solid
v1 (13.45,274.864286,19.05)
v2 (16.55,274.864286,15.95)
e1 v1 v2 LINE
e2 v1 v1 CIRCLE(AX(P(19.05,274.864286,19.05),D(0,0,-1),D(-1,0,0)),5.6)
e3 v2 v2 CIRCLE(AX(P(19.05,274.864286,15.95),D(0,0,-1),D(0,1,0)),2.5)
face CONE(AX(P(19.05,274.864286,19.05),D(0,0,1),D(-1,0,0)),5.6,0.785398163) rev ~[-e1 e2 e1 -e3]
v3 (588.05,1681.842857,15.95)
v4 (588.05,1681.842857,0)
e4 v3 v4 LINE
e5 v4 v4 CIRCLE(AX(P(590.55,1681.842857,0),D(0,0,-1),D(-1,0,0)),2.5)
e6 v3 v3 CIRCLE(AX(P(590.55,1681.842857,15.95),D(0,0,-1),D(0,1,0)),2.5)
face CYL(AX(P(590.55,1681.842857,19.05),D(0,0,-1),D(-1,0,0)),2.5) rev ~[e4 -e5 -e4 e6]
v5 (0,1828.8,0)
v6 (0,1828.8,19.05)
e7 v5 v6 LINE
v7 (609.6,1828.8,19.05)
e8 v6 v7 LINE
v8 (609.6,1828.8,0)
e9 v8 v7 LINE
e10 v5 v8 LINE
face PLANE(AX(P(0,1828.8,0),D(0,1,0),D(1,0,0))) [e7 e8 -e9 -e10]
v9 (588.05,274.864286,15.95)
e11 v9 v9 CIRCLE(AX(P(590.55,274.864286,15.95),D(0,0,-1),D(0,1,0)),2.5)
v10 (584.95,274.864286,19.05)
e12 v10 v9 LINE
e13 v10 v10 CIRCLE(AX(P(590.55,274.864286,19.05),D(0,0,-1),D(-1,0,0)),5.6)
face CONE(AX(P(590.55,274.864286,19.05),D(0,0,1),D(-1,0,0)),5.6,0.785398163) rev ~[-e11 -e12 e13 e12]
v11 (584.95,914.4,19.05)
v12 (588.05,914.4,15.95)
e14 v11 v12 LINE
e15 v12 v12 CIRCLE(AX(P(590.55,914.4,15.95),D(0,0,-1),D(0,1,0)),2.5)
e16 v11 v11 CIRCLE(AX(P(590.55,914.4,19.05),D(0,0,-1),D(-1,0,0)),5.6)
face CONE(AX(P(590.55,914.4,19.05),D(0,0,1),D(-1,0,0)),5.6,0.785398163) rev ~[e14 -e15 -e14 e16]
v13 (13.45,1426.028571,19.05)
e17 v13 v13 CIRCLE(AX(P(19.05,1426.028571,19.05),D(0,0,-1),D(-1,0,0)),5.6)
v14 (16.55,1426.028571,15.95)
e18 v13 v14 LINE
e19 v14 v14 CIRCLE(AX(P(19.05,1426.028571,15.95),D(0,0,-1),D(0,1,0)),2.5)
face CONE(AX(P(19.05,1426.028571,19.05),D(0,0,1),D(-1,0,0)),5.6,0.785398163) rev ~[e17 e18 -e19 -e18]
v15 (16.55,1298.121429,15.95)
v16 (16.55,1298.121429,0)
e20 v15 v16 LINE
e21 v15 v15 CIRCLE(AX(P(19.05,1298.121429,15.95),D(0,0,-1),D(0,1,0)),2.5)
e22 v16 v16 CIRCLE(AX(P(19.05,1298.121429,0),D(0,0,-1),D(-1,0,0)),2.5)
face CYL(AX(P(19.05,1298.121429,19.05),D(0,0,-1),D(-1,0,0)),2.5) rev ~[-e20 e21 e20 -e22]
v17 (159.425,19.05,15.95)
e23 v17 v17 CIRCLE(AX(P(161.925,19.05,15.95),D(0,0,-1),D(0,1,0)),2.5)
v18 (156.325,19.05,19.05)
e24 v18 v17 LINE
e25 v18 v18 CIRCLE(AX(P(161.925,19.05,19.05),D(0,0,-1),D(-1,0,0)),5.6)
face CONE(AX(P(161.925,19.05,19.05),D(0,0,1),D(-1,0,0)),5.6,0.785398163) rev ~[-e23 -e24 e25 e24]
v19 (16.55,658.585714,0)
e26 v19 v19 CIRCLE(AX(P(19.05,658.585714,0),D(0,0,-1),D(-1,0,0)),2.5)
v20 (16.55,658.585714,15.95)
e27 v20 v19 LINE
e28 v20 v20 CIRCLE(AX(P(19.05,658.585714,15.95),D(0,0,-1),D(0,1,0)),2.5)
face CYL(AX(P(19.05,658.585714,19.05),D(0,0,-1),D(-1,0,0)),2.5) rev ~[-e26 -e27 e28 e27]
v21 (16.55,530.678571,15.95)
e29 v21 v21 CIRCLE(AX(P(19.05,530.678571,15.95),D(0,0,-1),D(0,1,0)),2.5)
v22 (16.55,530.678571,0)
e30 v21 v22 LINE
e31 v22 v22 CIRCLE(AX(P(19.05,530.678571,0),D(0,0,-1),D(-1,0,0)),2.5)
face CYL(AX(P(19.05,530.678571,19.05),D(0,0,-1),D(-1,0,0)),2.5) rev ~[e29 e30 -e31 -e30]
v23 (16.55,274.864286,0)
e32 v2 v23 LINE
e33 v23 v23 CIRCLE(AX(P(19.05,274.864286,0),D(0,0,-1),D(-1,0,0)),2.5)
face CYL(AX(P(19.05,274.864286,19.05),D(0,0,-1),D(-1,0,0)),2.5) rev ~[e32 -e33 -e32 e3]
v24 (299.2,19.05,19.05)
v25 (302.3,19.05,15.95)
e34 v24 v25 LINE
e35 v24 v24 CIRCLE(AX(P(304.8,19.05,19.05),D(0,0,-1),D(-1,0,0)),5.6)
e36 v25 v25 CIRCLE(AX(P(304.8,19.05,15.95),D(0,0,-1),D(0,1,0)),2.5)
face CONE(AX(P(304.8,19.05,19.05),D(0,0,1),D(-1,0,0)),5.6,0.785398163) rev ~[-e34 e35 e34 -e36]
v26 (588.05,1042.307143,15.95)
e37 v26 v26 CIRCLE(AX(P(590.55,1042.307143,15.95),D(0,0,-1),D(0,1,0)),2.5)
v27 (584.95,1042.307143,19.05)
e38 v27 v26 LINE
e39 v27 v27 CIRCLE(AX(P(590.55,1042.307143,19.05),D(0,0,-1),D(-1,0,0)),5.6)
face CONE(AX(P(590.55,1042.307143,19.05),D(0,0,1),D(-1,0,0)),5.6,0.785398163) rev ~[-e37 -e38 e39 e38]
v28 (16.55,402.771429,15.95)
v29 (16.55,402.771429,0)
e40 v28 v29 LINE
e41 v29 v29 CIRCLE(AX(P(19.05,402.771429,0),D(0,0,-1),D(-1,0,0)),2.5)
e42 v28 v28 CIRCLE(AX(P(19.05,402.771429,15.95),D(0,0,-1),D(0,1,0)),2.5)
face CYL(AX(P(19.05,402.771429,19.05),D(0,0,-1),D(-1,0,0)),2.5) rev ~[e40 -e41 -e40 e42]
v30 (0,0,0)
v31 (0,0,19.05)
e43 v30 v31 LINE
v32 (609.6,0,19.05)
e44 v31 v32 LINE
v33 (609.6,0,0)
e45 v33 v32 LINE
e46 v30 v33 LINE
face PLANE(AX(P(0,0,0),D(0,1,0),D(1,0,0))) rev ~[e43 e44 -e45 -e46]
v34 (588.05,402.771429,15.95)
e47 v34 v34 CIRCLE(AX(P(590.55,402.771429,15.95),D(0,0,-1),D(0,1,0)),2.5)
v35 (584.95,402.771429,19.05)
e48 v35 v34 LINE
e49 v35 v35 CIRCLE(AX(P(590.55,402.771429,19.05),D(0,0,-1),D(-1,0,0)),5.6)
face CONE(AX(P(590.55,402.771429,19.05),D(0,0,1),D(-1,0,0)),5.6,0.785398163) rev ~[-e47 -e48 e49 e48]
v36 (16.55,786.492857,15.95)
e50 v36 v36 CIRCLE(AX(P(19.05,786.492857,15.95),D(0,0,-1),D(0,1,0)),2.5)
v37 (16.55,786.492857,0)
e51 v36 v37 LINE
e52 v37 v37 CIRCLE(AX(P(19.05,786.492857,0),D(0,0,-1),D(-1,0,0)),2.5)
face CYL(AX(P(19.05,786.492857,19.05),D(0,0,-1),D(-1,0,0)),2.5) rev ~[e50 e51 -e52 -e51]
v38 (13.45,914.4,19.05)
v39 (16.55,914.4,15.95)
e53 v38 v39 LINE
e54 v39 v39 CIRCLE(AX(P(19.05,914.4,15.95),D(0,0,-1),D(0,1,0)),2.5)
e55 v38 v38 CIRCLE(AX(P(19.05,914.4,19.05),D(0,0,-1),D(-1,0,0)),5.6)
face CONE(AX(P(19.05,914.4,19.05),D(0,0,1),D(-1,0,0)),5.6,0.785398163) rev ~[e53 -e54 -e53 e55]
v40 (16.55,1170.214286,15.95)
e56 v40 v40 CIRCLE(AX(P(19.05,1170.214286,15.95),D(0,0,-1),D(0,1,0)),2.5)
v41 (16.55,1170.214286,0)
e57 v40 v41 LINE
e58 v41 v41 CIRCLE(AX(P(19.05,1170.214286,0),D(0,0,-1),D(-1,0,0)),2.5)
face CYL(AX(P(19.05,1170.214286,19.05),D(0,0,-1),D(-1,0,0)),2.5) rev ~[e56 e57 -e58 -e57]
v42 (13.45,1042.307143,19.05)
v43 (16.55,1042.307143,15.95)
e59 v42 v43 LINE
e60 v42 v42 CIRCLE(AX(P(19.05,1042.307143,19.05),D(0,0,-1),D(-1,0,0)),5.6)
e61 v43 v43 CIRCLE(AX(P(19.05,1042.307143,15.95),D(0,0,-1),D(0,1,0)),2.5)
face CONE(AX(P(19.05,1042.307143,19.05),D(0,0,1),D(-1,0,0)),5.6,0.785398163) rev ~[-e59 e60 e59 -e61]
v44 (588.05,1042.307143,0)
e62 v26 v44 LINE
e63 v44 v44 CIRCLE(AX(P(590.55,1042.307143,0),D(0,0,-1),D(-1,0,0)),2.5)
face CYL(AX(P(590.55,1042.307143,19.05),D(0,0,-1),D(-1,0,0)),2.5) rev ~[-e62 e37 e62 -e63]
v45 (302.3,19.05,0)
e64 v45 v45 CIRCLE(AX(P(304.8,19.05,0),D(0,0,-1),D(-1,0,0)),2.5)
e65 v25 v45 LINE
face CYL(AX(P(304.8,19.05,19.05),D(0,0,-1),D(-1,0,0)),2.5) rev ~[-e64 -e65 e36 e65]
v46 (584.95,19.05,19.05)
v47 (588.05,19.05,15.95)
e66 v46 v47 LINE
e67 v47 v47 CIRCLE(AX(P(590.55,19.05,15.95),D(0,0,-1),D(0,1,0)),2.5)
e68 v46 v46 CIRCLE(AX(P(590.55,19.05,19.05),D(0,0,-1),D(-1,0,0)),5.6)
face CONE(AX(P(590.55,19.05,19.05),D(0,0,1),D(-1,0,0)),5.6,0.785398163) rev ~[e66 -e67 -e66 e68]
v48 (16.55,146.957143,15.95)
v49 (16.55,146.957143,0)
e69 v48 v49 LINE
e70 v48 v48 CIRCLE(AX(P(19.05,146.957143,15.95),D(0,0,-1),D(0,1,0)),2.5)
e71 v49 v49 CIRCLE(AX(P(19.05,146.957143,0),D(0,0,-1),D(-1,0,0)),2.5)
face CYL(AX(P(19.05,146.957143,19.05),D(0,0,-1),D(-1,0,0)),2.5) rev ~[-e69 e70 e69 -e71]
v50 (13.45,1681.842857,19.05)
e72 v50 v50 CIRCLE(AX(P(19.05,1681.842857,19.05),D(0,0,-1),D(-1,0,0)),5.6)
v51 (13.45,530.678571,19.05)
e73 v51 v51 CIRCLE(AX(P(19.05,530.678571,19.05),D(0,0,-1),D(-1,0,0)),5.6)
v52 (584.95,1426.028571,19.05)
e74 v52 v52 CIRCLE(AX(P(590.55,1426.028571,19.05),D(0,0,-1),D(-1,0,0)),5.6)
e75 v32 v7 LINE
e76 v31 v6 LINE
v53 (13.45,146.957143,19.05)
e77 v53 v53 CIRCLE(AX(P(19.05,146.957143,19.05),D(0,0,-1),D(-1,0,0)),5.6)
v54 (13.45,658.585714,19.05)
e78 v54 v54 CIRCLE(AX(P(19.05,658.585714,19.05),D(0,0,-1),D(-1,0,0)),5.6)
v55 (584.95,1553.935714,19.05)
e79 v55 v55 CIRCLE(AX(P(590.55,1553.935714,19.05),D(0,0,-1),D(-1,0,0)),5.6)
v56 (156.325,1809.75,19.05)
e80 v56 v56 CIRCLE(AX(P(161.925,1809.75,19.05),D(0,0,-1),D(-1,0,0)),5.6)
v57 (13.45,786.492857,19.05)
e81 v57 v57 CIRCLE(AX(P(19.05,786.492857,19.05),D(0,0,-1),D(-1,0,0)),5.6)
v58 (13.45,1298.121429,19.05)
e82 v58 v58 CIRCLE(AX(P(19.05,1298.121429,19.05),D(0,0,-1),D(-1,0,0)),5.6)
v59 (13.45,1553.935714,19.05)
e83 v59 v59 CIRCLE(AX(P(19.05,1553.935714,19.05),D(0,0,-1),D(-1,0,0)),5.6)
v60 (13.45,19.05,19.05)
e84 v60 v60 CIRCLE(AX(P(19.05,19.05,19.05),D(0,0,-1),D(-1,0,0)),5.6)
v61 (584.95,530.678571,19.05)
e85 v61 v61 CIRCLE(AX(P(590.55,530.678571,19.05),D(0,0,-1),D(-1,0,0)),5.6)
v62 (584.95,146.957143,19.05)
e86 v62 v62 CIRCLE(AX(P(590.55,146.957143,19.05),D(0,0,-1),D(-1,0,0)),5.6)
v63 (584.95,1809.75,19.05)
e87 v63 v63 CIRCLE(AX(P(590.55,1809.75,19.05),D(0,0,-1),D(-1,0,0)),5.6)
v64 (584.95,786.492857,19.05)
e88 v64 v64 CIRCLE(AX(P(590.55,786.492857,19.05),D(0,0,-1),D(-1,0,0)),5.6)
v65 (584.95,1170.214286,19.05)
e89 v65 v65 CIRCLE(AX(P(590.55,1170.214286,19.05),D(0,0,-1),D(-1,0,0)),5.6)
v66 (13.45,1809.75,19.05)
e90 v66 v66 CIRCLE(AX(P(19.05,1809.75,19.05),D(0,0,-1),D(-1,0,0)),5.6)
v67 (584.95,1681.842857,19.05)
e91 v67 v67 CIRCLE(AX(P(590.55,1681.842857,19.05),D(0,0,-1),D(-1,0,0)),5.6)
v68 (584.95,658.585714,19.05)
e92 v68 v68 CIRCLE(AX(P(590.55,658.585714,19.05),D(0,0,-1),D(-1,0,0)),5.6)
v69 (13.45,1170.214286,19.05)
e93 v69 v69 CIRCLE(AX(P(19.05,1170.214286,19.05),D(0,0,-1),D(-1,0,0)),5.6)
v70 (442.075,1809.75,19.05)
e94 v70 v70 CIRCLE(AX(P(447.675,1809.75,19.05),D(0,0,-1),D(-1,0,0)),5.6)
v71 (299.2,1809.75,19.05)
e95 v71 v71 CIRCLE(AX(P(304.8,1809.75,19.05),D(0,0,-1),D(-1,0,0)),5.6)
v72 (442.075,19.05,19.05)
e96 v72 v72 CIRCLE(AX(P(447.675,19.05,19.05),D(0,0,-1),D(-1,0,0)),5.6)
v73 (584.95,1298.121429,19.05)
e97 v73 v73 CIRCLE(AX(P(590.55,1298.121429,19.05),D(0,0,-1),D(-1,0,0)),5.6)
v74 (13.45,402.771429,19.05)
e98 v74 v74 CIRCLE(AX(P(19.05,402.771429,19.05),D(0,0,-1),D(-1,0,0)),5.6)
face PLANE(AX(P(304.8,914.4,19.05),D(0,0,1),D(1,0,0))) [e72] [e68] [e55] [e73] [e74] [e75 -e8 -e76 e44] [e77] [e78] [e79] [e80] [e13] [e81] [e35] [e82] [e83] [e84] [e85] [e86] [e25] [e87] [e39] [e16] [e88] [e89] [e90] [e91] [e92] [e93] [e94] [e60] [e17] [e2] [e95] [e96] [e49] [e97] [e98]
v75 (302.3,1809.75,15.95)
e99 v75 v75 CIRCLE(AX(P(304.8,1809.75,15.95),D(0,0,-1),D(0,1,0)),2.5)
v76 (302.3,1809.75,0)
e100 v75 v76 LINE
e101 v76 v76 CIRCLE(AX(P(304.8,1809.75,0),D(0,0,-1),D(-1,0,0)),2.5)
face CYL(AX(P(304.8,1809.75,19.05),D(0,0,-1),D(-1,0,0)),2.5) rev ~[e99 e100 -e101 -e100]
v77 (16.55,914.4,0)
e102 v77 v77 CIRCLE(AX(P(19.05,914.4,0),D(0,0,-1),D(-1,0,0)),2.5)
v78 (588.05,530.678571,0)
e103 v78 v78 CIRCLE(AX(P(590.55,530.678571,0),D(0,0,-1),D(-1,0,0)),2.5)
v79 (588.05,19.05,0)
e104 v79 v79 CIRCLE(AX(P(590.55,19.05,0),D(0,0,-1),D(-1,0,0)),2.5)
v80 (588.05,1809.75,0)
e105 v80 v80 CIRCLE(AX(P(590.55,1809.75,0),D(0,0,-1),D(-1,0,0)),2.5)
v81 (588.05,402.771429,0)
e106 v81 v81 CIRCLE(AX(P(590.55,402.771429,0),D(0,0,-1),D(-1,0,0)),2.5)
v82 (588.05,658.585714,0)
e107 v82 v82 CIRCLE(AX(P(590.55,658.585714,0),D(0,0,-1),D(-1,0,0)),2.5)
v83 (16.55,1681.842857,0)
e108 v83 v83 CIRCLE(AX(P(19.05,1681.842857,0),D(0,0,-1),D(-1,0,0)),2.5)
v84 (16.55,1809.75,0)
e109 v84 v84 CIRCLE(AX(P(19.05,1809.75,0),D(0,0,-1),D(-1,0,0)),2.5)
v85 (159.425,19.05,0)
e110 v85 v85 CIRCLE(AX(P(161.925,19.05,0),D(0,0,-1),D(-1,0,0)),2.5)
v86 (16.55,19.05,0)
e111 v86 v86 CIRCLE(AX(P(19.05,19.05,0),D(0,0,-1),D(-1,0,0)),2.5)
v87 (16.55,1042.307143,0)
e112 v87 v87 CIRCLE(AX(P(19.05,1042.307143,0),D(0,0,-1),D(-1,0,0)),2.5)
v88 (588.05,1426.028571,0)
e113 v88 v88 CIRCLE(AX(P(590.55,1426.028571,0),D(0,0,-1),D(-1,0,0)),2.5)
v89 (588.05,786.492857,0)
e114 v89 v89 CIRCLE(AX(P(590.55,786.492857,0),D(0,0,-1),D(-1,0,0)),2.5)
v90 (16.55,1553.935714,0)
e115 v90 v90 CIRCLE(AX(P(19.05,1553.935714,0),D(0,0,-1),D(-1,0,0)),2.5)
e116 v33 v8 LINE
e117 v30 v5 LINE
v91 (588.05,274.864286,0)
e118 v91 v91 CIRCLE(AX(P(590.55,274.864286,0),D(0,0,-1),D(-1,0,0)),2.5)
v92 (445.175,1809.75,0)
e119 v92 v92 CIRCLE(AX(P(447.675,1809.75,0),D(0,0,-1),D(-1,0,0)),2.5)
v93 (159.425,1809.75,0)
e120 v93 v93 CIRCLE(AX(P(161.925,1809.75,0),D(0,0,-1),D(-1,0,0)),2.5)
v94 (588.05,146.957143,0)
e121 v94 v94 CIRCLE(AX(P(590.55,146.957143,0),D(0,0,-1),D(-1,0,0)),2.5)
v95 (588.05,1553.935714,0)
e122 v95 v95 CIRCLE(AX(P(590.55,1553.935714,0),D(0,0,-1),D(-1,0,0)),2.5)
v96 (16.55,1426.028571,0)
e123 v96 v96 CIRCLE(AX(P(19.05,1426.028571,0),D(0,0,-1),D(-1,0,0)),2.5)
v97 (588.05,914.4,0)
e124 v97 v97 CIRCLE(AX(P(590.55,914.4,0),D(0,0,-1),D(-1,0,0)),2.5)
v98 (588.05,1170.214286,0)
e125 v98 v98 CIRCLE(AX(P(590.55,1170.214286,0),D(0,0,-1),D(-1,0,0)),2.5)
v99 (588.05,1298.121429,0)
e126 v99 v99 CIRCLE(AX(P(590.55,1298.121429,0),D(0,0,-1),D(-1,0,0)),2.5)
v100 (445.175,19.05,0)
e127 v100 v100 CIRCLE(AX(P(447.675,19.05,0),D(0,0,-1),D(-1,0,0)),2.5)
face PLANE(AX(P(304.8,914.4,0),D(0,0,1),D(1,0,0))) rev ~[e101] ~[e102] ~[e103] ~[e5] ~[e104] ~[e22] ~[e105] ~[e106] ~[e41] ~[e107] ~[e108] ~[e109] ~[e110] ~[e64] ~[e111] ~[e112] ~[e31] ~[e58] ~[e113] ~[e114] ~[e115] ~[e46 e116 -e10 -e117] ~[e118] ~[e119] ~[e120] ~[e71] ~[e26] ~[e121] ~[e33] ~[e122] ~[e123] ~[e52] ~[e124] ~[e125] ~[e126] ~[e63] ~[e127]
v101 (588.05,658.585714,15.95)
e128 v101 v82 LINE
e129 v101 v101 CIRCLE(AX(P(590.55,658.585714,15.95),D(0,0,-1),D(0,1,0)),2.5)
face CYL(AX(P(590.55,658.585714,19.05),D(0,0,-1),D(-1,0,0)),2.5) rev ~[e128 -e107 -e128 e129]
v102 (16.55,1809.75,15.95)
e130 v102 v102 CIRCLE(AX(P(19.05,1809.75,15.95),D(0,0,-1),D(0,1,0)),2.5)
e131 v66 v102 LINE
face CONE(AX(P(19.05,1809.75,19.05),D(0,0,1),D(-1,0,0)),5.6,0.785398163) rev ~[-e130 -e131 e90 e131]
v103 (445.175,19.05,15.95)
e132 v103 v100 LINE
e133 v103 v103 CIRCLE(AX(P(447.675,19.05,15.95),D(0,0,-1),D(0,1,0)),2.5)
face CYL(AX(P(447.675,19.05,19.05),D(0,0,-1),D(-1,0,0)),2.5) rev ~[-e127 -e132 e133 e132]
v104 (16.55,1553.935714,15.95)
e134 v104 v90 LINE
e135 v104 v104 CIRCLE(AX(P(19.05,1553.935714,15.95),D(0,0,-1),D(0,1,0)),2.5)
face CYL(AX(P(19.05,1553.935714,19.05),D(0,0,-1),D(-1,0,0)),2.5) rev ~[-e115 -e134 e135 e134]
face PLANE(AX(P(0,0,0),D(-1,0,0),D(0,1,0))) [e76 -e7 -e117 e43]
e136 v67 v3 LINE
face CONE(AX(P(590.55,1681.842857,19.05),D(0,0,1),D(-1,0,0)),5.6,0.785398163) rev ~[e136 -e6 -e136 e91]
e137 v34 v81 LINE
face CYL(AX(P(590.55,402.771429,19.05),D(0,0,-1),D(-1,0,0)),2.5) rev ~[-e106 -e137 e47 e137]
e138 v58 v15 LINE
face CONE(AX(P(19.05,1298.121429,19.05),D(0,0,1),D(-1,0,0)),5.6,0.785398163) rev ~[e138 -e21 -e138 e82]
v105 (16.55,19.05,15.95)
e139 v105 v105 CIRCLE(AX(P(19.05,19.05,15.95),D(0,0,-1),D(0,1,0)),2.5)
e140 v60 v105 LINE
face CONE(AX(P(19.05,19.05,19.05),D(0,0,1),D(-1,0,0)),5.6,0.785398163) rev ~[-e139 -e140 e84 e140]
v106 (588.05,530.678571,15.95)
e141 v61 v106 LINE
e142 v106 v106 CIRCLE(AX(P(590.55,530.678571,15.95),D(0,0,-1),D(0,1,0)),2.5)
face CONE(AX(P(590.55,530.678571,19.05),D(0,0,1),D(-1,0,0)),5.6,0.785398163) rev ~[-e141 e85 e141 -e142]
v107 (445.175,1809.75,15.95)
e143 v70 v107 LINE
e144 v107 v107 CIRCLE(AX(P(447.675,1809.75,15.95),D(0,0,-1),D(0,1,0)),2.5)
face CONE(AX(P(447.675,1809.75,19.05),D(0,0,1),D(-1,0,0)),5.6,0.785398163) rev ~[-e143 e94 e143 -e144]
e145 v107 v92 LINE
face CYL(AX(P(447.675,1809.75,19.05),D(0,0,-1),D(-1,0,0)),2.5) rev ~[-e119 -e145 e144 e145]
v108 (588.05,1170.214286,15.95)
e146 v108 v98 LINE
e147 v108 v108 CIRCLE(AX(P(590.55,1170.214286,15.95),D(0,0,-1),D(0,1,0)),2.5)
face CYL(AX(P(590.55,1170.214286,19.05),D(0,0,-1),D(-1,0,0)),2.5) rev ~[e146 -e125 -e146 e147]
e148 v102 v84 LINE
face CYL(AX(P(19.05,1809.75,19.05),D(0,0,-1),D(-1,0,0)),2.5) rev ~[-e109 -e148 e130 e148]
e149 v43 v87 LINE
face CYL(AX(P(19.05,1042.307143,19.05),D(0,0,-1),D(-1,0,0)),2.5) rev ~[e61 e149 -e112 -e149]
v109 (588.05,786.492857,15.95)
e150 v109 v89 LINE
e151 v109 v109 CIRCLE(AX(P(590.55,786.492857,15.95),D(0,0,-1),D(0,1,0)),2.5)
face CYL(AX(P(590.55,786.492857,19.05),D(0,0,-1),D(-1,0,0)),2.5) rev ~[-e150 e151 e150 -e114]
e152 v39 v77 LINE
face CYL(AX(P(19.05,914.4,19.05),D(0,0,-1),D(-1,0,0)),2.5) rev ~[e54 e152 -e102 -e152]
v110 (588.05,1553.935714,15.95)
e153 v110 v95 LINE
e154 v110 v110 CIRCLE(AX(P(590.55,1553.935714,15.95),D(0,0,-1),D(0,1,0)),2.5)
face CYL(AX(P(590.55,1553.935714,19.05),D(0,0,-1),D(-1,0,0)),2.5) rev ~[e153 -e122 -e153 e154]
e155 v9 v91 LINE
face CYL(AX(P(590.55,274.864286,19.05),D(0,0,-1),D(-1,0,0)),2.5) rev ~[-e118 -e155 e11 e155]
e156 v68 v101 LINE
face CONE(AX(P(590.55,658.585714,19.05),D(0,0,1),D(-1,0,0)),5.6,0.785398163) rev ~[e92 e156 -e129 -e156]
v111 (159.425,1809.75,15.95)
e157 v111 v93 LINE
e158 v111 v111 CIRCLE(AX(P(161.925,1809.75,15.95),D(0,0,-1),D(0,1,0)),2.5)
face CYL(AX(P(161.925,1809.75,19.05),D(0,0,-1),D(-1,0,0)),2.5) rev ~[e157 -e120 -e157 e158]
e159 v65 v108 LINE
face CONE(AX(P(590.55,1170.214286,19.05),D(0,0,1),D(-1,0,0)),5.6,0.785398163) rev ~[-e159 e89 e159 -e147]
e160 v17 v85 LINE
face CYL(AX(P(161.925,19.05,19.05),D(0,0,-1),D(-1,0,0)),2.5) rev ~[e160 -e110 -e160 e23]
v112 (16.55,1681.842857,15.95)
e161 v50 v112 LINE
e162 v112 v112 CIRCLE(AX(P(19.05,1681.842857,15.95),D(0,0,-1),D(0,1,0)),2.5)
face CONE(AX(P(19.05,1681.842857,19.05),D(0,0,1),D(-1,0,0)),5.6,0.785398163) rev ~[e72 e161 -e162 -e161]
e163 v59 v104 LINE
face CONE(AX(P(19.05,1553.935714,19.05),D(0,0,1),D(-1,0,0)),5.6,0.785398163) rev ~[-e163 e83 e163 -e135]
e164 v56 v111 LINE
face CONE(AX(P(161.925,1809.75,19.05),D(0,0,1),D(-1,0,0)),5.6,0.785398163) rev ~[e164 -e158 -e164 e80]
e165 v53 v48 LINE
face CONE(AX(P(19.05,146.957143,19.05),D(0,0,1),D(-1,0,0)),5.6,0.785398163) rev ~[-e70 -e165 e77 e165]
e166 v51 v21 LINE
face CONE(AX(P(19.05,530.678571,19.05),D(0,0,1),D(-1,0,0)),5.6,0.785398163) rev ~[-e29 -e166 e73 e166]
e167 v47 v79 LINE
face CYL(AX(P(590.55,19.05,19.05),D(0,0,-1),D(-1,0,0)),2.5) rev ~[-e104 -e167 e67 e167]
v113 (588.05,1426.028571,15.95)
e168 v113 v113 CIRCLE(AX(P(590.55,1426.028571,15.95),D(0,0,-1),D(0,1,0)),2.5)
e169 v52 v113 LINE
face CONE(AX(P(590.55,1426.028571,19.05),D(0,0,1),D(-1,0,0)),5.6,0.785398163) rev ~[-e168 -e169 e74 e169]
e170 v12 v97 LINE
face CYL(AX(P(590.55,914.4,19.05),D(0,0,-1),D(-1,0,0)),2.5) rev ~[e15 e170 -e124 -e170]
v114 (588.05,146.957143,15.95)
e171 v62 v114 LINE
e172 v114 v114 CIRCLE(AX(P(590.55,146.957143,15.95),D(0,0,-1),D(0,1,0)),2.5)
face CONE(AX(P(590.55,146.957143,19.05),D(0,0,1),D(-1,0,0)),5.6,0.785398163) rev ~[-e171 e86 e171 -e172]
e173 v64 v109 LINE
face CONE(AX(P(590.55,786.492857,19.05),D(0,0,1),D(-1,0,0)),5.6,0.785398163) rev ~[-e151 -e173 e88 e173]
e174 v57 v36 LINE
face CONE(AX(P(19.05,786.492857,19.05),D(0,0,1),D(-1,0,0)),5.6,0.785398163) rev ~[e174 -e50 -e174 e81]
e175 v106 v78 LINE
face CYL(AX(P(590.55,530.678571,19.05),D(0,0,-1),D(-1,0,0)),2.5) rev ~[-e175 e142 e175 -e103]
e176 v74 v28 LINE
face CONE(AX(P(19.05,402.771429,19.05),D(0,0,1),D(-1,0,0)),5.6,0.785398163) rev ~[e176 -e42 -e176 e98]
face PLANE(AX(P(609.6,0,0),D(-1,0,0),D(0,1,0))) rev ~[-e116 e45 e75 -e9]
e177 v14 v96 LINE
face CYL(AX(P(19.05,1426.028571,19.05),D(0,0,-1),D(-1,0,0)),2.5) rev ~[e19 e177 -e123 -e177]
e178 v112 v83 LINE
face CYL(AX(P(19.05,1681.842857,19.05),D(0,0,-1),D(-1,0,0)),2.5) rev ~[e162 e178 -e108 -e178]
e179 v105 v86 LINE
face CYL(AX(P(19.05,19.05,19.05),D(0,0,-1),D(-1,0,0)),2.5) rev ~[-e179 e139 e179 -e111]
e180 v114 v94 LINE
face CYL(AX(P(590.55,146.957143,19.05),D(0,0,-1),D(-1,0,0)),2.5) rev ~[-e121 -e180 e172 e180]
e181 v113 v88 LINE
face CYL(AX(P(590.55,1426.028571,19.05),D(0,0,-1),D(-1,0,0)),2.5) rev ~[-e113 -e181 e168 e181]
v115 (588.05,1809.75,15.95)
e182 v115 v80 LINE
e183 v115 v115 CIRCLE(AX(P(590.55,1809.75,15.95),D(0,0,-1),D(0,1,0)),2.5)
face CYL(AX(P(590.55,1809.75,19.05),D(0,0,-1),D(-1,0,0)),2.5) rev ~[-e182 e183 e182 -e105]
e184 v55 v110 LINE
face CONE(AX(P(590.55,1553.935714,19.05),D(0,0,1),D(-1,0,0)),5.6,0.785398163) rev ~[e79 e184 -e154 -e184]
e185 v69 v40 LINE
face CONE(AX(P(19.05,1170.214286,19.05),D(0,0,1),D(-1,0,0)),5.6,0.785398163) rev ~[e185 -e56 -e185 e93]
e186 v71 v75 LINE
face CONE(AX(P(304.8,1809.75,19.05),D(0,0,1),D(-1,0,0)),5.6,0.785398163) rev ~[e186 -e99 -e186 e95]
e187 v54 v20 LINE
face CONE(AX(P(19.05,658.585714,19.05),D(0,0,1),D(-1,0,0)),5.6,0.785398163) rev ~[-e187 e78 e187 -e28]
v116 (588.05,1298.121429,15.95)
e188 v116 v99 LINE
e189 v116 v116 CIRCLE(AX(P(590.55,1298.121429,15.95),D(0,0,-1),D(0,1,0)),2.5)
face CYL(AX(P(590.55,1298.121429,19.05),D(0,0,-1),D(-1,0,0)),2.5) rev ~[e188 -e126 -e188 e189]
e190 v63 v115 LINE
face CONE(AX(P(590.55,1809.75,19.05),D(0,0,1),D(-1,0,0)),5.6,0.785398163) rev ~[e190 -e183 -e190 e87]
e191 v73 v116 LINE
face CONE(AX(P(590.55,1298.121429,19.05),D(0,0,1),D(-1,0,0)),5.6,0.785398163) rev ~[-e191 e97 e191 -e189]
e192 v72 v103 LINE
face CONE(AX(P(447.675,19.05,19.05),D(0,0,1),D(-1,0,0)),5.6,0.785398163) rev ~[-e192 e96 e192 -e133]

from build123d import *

# Parameters (mm, degrees)
F0_W           = 609.6
F0_H           = 1828.8
F1_DEPTH       = 19.05
F3_D           = 5
F3_CSINK_D     = 11.2
F3_CSINK_ANGLE = 90


with BuildPart() as f1:
    # F0 (on Top) → F1 (new body)
    with BuildSketch(Plane.XY):
        with Locations((304.8, 914.4)):
            Rectangle(F0_W, F0_H)
    extrude(amount=F1_DEPTH)

    # F3 (through all)
    with Locations(Plane.XY.offset(19.05)):
        with Locations((19.05, 1809.75), (161.925, 1809.75), (304.8, 1809.75), (447.675, 1809.75), (590.55, 1809.75), (590.55, 1681.8428571429), (590.55, 1553.9357142857), (590.55, 1426.0285714286), (590.55, 1170.2142857143), (590.55, 1042.3071428571), (590.55, 914.4), (590.55, 1298.1214285714), (590.55, 786.4928571429), (590.55, 658.5857142857), (590.55, 530.6785714286), (590.55, 402.7714285714), (590.55, 274.8642857143), (590.55, 146.9571428571), (590.55, 19.05), (447.675, 19.05), (304.8, 19.05), (161.925, 19.05), (19.05, 19.05), (19.05, 146.9571428571), (19.05, 274.8642857143), (19.05, 402.7714285714), (19.05, 530.6785714286), (19.05, 658.5857142857), (19.05, 786.4928571429), (19.05, 914.4), (19.05, 1042.3071428571), (19.05, 1170.2142857143), (19.05, 1298.1214285714), (19.05, 1426.0285714286), (19.05, 1553.9357142857), (19.05, 1681.8428571429)):
            CounterSinkHole(F3_D / 2, F3_CSINK_D / 2, counter_sink_angle=F3_CSINK_ANGLE)


solid = f1.part
